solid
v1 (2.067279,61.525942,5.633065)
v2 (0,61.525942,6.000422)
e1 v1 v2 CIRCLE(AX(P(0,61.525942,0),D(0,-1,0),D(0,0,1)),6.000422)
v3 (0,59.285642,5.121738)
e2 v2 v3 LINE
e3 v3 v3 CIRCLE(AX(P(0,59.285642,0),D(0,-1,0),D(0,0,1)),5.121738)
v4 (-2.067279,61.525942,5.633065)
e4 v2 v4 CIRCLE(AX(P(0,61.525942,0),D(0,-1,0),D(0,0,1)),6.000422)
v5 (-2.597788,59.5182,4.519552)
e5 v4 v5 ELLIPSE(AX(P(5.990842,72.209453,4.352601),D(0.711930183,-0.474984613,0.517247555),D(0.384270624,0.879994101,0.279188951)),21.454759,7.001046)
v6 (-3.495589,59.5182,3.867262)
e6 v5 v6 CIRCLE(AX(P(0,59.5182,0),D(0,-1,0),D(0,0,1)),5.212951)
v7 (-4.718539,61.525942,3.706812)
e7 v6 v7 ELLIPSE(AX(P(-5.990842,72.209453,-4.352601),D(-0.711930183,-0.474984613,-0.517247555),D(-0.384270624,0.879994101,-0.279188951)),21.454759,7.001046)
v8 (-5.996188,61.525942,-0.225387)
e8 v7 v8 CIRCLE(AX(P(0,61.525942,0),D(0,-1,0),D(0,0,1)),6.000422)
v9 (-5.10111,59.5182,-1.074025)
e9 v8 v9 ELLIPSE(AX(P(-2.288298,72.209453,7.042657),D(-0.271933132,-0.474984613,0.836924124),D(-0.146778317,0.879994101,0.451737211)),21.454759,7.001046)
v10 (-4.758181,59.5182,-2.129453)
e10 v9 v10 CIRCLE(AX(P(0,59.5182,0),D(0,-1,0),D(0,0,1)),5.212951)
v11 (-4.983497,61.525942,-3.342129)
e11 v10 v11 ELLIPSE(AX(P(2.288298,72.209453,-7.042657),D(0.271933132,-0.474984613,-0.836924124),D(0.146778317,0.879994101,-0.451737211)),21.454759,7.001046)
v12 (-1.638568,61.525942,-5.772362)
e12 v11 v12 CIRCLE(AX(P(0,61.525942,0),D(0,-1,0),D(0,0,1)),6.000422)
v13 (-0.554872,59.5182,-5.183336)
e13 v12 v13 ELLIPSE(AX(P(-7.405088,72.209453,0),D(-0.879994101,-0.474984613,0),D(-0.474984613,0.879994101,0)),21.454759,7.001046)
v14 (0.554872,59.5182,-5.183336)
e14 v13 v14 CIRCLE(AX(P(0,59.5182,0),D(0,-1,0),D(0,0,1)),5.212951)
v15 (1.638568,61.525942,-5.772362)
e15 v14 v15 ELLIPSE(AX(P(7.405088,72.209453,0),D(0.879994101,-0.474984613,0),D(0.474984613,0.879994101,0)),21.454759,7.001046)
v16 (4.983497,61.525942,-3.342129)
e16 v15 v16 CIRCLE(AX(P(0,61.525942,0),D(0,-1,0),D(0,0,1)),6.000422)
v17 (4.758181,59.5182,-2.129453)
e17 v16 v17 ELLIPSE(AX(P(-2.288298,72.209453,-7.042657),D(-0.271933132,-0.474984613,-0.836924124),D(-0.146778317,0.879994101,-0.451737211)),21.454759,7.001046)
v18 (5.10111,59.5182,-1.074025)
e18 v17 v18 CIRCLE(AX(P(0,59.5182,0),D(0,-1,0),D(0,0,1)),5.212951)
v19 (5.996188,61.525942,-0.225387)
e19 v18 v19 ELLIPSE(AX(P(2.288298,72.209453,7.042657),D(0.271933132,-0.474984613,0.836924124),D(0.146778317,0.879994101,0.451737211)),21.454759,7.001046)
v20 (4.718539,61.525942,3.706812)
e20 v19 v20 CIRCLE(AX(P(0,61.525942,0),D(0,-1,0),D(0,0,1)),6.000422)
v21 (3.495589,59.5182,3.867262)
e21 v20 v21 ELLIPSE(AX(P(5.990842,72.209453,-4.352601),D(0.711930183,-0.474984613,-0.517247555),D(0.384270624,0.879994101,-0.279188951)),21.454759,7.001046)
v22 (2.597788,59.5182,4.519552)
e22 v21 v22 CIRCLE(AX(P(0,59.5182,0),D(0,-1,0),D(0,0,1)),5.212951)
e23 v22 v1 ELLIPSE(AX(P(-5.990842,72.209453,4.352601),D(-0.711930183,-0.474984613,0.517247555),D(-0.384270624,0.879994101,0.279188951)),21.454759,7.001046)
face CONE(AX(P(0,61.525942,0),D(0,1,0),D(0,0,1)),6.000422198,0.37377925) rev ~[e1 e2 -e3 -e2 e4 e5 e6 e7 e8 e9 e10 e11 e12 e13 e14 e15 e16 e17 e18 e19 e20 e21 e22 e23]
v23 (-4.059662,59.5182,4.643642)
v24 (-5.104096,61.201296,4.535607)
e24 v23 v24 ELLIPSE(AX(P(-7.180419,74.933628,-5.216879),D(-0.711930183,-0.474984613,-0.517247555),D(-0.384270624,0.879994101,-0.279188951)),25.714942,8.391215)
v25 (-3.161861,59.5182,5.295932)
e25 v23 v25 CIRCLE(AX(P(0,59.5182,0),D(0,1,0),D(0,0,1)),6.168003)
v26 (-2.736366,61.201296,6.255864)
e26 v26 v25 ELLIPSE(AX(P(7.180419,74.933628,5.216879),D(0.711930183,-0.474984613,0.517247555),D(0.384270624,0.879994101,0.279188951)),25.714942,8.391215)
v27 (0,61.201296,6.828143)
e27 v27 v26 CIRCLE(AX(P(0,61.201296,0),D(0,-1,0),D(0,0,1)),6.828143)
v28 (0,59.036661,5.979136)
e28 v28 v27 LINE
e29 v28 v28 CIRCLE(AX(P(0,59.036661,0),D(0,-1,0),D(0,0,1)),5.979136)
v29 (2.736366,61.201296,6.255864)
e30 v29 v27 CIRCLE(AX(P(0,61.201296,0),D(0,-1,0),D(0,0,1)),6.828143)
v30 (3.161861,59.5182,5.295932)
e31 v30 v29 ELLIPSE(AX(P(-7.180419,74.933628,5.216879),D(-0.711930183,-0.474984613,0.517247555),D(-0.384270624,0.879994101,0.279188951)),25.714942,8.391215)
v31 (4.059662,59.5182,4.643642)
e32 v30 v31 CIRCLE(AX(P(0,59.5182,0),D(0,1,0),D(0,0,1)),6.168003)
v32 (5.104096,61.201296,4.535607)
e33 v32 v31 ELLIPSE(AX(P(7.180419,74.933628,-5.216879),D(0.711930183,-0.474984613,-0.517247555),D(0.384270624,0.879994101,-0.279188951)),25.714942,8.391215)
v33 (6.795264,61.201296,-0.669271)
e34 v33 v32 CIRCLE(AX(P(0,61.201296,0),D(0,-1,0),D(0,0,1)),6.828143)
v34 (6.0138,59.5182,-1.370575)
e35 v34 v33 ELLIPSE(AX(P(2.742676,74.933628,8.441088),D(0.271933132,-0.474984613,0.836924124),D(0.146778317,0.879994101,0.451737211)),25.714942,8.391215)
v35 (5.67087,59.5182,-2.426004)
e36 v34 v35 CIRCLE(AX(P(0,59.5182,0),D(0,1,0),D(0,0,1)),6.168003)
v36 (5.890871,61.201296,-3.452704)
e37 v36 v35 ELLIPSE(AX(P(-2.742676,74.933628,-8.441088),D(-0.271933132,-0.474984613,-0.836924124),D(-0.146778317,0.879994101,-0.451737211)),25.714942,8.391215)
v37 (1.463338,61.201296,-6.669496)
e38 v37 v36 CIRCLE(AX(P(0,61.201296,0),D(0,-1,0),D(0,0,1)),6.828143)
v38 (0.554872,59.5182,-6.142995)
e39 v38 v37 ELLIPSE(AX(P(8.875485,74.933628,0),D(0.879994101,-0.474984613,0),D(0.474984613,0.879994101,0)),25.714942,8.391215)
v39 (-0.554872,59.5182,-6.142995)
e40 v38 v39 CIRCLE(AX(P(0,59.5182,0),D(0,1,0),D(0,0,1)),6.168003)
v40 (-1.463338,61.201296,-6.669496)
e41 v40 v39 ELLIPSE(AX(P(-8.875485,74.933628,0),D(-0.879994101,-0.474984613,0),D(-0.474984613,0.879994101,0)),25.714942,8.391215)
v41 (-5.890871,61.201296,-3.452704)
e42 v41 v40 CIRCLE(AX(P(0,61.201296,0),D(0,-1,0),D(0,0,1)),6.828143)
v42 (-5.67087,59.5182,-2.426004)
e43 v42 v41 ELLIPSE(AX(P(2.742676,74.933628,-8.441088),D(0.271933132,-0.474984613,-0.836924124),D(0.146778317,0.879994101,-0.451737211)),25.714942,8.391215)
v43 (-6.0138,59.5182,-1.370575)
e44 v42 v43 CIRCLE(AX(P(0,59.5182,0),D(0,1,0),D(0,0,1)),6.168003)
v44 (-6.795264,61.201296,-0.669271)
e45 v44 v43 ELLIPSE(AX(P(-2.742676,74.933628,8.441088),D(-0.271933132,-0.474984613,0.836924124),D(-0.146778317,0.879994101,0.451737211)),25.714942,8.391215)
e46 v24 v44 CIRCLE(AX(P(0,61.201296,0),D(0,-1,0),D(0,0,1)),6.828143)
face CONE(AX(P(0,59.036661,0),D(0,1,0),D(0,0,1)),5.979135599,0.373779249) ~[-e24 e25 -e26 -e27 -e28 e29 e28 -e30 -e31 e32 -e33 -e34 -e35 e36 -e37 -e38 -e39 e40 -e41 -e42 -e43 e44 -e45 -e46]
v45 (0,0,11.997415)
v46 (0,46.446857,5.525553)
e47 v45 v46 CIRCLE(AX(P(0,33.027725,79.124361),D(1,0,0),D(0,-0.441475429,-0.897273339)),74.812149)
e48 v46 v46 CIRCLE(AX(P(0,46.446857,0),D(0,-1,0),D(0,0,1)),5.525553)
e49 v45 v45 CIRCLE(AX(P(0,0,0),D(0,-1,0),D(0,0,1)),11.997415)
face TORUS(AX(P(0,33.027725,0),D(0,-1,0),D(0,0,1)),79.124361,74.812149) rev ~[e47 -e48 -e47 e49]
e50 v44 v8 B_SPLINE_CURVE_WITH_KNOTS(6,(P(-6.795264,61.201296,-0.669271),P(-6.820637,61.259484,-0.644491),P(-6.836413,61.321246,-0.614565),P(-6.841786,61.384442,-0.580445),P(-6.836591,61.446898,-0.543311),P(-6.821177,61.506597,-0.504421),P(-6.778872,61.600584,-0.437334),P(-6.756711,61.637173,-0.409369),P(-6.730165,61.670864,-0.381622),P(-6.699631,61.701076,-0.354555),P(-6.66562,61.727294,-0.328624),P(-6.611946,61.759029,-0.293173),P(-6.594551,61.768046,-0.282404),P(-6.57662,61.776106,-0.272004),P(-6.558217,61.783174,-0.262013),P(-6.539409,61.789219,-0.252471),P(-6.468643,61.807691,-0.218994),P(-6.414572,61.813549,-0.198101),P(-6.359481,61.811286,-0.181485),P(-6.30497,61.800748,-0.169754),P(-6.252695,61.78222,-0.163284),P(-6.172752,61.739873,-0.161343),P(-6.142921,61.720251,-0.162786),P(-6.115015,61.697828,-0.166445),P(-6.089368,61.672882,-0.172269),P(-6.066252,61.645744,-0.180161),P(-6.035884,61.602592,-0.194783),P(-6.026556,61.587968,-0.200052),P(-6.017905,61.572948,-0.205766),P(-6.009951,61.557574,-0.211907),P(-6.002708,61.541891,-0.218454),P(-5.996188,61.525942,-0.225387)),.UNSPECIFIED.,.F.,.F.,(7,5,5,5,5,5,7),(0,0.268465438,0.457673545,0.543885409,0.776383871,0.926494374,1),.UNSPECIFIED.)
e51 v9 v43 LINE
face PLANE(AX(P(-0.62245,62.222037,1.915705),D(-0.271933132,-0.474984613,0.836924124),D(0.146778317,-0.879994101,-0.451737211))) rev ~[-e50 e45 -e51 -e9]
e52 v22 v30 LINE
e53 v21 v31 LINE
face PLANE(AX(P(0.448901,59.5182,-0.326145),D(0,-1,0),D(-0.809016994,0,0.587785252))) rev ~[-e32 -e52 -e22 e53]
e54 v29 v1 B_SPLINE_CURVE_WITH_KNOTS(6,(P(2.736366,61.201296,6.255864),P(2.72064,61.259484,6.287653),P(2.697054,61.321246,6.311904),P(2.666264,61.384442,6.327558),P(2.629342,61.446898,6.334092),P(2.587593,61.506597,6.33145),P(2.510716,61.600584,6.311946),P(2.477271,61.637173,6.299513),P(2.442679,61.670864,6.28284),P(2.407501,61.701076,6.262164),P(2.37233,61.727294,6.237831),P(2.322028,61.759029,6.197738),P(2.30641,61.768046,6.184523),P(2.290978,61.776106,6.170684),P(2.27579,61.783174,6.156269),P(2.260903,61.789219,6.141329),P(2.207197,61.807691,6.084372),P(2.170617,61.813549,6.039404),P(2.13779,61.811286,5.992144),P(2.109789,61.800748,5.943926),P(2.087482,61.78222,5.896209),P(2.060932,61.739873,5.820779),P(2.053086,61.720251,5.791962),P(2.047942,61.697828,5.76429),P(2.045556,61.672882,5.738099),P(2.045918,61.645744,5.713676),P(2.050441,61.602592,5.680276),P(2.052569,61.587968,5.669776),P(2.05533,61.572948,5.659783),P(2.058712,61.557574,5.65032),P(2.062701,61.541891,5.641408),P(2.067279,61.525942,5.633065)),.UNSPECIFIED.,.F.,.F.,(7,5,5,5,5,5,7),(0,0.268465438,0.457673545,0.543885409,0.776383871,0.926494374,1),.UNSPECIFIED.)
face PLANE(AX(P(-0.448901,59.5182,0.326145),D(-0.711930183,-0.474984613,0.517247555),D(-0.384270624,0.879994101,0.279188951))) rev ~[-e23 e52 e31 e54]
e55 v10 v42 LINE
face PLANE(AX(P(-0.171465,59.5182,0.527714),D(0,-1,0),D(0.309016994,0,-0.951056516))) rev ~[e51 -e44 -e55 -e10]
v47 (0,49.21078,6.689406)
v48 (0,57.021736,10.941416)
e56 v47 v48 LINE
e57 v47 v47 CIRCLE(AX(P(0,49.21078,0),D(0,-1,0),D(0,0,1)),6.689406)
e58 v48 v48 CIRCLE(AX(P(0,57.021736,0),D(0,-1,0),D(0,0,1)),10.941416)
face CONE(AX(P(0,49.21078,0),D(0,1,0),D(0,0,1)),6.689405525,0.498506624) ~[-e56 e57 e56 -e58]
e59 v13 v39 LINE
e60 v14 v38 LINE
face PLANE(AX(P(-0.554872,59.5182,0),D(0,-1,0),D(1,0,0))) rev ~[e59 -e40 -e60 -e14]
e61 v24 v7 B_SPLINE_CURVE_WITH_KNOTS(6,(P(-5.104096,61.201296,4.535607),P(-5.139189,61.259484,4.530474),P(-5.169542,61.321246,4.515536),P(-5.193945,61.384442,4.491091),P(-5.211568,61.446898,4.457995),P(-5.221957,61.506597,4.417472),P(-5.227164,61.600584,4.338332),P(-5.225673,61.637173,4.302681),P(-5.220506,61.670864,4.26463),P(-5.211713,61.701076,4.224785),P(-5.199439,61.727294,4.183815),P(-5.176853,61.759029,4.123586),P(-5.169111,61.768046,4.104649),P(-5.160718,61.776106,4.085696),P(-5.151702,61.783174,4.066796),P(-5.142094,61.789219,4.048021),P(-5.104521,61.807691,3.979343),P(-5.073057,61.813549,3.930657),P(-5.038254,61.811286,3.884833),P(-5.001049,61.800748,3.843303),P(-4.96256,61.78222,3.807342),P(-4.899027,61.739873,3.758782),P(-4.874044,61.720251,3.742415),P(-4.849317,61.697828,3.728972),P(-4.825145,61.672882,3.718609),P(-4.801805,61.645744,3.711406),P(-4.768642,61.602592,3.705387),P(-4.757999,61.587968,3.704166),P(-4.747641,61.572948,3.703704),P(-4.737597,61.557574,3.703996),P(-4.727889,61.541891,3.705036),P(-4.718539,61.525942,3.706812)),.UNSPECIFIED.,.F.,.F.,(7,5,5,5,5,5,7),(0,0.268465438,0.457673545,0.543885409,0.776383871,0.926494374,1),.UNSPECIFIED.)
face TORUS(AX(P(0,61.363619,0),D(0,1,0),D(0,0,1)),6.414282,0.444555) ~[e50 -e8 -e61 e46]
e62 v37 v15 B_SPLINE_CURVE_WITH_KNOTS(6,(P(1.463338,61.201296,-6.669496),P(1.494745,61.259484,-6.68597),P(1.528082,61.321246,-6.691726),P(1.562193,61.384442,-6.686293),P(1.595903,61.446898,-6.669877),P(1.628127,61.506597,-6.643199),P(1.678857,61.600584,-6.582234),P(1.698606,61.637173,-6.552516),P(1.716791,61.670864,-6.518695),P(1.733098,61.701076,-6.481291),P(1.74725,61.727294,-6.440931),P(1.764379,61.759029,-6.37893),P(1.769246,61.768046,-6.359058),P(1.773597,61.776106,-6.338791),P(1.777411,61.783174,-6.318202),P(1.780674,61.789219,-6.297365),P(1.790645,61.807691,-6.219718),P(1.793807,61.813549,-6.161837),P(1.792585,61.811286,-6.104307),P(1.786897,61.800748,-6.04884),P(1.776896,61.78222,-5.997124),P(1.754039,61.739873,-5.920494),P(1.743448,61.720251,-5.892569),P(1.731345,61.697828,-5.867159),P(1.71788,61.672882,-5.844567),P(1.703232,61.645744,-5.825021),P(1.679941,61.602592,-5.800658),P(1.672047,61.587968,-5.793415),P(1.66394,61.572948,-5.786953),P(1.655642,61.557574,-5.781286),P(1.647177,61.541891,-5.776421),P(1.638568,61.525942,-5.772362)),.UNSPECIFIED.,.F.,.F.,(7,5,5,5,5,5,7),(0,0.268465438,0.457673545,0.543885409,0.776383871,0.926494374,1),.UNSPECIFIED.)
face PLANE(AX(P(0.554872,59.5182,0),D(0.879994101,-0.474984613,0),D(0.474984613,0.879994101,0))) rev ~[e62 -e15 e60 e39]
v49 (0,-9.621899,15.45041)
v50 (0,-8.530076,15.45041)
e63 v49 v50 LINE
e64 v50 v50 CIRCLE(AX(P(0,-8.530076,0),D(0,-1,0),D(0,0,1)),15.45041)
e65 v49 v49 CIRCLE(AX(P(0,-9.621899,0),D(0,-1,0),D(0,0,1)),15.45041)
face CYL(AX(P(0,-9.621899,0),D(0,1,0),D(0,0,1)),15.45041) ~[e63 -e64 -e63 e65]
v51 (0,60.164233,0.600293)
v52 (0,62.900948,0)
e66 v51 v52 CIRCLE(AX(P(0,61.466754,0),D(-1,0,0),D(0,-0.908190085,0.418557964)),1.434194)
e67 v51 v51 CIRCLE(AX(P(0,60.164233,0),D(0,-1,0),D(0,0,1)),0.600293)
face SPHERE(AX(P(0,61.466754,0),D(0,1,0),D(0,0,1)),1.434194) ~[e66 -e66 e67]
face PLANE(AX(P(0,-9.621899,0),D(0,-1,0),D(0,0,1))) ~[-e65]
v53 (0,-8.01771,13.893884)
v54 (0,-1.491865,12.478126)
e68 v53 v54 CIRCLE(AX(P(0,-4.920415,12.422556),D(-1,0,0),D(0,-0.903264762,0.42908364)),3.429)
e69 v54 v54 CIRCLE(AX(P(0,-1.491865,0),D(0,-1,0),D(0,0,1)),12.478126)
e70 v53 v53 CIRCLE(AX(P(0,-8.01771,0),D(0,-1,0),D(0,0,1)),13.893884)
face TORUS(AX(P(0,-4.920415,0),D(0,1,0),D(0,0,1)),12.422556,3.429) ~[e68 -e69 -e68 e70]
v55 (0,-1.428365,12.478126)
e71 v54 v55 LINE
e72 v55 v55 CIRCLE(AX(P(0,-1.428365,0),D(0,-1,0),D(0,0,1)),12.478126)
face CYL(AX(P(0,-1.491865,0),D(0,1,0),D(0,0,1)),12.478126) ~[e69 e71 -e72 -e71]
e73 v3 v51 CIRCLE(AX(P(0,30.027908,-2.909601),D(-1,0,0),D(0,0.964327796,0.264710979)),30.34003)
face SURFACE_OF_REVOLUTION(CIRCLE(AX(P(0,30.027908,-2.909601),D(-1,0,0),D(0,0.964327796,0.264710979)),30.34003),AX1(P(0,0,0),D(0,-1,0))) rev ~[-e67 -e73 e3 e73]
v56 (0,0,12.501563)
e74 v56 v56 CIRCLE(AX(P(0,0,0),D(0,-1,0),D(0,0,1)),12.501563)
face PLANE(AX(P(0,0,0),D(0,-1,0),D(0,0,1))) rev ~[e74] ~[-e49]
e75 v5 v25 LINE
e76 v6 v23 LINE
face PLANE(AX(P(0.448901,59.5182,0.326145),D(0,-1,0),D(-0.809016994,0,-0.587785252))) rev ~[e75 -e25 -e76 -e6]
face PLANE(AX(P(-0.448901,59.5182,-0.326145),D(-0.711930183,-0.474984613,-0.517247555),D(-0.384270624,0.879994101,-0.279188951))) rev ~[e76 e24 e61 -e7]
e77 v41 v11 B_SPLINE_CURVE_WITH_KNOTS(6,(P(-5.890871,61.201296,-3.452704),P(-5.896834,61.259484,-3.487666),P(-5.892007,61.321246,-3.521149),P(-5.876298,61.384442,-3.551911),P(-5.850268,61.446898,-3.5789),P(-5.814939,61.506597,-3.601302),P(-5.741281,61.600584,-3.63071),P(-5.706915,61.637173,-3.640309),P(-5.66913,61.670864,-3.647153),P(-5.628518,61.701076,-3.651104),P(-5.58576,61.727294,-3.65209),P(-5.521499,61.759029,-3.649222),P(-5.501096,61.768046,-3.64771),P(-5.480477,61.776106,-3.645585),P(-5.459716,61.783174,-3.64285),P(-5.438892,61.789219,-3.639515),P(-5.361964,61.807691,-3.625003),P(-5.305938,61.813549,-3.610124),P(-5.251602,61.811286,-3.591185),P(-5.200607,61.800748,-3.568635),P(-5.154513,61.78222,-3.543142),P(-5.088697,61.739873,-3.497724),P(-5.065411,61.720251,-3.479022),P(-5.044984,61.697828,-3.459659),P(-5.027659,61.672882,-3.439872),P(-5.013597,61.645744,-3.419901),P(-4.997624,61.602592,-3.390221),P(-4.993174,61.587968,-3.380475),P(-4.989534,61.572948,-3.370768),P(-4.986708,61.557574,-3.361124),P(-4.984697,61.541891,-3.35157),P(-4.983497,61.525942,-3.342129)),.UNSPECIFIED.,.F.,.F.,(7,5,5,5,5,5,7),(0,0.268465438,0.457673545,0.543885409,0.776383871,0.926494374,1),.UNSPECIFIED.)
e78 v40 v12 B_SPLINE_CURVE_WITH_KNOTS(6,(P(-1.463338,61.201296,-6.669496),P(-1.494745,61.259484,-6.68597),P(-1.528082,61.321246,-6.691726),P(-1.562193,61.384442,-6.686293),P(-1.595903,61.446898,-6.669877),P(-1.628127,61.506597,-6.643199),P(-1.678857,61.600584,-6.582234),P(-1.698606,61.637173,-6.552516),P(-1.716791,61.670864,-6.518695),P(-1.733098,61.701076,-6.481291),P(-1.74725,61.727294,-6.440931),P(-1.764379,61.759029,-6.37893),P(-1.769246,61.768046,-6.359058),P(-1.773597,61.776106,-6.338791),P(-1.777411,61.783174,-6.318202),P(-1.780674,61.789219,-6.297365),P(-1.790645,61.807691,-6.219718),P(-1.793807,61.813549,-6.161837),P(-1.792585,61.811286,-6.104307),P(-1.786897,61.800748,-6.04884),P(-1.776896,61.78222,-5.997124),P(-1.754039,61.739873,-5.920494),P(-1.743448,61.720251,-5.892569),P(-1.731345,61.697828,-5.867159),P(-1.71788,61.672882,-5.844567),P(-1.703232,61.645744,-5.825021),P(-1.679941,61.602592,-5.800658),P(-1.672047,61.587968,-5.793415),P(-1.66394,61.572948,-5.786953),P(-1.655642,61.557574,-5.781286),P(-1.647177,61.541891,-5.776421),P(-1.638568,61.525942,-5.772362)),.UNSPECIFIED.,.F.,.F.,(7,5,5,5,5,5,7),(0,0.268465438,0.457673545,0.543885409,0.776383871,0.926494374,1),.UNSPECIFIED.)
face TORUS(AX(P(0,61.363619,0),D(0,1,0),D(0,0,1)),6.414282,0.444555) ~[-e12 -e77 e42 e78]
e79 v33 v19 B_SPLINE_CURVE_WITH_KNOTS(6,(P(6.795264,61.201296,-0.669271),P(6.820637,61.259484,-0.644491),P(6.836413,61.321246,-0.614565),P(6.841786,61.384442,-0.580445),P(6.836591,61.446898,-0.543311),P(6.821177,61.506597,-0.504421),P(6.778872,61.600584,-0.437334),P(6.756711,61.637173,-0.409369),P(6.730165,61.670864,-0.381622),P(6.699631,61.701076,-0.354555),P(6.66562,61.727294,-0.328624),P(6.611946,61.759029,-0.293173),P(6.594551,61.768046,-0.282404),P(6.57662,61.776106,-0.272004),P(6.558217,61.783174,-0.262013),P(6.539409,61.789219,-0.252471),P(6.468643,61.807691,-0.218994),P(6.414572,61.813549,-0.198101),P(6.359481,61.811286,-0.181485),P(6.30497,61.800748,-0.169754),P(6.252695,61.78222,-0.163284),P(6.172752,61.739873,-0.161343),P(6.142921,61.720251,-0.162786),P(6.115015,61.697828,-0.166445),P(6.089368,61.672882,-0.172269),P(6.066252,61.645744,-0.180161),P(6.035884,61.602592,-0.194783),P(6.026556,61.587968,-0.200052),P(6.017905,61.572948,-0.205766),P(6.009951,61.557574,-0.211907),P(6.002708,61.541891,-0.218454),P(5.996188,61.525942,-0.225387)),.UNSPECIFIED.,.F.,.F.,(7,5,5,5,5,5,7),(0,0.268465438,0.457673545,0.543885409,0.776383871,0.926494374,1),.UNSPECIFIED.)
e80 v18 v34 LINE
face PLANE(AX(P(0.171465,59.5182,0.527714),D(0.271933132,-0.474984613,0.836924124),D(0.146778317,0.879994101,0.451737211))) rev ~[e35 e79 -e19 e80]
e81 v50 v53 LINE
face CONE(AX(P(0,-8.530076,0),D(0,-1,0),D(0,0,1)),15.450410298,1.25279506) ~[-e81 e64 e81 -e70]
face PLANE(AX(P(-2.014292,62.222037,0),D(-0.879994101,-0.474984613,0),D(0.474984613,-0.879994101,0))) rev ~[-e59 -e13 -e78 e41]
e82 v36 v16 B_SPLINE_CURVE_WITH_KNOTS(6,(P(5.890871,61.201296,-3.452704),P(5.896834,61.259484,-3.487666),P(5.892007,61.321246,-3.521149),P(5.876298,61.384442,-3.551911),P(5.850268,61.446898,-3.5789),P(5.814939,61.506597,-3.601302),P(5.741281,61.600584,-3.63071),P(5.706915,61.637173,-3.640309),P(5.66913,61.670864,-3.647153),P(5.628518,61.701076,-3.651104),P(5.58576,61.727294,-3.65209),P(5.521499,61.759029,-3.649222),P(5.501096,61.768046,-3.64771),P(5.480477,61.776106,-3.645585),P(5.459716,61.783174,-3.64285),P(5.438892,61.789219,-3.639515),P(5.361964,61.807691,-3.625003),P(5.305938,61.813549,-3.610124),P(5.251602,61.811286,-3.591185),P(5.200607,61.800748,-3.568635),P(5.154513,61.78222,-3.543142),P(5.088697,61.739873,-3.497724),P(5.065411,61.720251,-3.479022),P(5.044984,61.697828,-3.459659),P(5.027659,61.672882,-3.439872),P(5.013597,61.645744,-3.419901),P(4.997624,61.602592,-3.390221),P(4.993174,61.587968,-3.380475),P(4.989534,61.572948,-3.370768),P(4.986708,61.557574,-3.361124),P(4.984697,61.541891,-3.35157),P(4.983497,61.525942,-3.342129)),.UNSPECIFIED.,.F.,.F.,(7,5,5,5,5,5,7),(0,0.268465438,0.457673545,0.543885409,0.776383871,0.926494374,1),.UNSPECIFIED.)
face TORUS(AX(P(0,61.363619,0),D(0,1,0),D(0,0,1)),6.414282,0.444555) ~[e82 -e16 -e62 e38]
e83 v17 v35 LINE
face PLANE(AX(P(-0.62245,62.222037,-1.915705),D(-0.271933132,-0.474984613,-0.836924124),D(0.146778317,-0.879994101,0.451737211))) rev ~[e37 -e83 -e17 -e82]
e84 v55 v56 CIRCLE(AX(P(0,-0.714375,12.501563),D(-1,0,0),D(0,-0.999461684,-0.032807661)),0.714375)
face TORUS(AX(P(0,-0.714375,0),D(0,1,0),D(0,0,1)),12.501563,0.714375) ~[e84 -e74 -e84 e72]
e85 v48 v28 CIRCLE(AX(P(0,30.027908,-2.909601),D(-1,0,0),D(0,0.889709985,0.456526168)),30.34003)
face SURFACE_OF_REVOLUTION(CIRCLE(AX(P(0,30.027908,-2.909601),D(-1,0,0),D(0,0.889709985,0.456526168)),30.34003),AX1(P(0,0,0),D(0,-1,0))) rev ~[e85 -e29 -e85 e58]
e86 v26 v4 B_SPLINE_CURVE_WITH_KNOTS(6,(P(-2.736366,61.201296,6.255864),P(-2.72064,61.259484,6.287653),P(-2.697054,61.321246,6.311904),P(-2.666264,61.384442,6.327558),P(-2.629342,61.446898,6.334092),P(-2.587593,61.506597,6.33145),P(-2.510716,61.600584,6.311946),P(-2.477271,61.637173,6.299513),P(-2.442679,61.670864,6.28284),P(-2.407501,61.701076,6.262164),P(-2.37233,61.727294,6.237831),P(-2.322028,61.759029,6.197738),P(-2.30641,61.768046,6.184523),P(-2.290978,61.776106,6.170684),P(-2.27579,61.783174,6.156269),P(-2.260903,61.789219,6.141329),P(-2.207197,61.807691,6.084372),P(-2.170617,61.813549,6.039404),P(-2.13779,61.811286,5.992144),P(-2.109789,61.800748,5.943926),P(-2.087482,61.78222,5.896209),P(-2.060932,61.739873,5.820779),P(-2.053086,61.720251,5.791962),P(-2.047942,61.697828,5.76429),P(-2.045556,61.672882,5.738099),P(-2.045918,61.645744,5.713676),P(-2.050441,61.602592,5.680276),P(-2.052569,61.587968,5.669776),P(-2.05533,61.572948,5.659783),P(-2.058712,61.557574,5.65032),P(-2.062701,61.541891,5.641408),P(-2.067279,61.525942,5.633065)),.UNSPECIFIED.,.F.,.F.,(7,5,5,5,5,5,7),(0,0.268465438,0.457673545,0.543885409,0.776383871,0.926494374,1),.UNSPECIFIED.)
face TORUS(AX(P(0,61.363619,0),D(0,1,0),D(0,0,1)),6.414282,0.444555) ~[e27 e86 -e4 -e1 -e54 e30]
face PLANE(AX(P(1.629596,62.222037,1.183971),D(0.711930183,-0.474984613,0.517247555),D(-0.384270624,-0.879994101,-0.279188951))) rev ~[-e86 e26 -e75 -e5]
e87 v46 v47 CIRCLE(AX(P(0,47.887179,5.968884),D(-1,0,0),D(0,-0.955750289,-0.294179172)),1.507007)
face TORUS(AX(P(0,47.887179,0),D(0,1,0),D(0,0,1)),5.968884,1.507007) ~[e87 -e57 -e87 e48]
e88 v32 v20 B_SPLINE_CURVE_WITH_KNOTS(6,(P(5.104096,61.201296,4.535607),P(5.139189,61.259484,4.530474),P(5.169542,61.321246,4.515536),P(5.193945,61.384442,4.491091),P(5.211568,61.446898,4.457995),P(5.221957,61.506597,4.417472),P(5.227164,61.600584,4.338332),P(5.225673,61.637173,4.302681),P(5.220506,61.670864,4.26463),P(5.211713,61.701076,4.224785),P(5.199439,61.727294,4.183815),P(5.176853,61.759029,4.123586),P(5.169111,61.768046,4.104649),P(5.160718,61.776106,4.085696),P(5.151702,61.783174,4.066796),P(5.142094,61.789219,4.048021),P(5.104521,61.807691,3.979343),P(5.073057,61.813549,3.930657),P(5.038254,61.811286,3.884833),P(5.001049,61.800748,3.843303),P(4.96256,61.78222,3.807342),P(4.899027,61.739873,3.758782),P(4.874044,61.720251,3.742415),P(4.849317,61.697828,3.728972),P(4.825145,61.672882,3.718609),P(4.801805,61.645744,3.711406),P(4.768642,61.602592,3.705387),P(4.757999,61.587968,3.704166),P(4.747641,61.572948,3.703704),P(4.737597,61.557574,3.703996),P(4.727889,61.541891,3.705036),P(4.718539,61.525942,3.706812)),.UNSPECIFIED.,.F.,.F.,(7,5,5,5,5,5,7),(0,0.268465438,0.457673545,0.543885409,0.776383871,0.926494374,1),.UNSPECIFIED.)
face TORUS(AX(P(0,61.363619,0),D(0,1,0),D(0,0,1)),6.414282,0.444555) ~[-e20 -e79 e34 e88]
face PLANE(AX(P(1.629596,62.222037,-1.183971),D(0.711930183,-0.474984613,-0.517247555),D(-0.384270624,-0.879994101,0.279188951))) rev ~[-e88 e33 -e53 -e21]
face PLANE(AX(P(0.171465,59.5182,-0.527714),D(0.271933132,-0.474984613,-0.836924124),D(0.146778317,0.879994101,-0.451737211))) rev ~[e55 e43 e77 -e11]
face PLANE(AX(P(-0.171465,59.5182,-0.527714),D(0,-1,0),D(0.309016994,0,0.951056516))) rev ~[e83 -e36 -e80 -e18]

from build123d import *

# Parameters (mm, degrees)
CUT_EXTRUDE2_DEPTH = 66.747958584
CIRPATTERN2_COUNT  = 5


with BuildPart() as part:
    # Sketch1 → Revolve1 (revolve)
    with BuildSketch(Plane.XY):
        with BuildLine():
            Line((0, -9.621899222), (15.450410298, -9.621899222))
            Line((15.450410298, -9.621899222), (15.450410298, -8.530075969))
            Line((15.450410298, -8.530075969), (13.893883706, -8.017710004))
            ThreePointArc((13.893883706, -8.017710004), (15.773602868, -4.193417719), (12.478125528, -1.49186544))
            Line((12.478125528, -1.49186544), (12.478125528, -1.42836544))
            ThreePointArc((12.478125528, -1.42836544), (13.215841354, -0.726095063), (12.5015625, 0))
            Line((12.5015625, 0), (11.997414701, 0))
            ThreePointArc((11.997414701, 0), (5.028058279, 22.703216305), (5.525553365, 46.446856679))
            ThreePointArc((5.525553365, 46.446856679), (7.357777783, 47.302334151), (6.689405525, 49.210780259))
            Line((6.689405525, 49.210780259), (10.941416282, 57.021735688))
            Line((10.941416282, 57.021735688), (0, 57.021735688))
            Line((0, 57.021735688), (0, -9.621899222))
        make_face()
        with BuildLine():
            ThreePointArc((5.121737655, 59.285642311), (5.551352522, 59.164305902), (5.979135599, 59.036661482))
            Line((5.979135599, 59.036661482), (6.828142797, 61.201295923))
            ThreePointArc((6.828142797, 61.201295923), (6.57660569, 61.777479415), (6.000422198, 61.525942308))
            Line((6.000422198, 61.525942308), (5.121737655, 59.285642311))
        make_face()
    revolve(axis=Axis((0, 0, 0), (0, -1, 0)))

    # Sketch8 → Cut-Extrude2 (cut, through all)
    with BuildSketch(Plane.XY):
        Polygon((-0.554871669, 59.518199955), (0.554871669, 59.518199955), (2.014291896, 62.222037417), (-2.014291896, 62.222037417), align=None)
    cut_extrude2 = extrude(amount=-CUT_EXTRUDE2_DEPTH, mode=Mode.SUBTRACT)

    # CirPattern2: Cut-Extrude2 ×5 about axis
    cirpattern2_axis = Axis((0, -9.621899222, 0), (0, 1, 0))
    for i in range(1, CIRPATTERN2_COUNT):
        add(cut_extrude2.rotate(cirpattern2_axis, i * 360 / CIRPATTERN2_COUNT), mode=Mode.SUBTRACT)

    # Sketch1<5> → Revolve3 (revolve)
    with BuildSketch(Plane.XY):
        with BuildLine():
            Line((0, 57.021735688), (10.941416282, 57.021735688))
            ThreePointArc((10.941416282, 57.021735688), (5.911914471, 59.057173953), (0.600293393, 60.164232637))
            ThreePointArc((0.600293393, 60.164232637), (1.400889155, 61.774036009), (0, 62.900947737))
            Line((0, 62.900947737), (0, 57.021735688))
        make_face()
    revolve(axis=Axis((0, 0, 0), (0, -1, 0)))


solid = part.part
